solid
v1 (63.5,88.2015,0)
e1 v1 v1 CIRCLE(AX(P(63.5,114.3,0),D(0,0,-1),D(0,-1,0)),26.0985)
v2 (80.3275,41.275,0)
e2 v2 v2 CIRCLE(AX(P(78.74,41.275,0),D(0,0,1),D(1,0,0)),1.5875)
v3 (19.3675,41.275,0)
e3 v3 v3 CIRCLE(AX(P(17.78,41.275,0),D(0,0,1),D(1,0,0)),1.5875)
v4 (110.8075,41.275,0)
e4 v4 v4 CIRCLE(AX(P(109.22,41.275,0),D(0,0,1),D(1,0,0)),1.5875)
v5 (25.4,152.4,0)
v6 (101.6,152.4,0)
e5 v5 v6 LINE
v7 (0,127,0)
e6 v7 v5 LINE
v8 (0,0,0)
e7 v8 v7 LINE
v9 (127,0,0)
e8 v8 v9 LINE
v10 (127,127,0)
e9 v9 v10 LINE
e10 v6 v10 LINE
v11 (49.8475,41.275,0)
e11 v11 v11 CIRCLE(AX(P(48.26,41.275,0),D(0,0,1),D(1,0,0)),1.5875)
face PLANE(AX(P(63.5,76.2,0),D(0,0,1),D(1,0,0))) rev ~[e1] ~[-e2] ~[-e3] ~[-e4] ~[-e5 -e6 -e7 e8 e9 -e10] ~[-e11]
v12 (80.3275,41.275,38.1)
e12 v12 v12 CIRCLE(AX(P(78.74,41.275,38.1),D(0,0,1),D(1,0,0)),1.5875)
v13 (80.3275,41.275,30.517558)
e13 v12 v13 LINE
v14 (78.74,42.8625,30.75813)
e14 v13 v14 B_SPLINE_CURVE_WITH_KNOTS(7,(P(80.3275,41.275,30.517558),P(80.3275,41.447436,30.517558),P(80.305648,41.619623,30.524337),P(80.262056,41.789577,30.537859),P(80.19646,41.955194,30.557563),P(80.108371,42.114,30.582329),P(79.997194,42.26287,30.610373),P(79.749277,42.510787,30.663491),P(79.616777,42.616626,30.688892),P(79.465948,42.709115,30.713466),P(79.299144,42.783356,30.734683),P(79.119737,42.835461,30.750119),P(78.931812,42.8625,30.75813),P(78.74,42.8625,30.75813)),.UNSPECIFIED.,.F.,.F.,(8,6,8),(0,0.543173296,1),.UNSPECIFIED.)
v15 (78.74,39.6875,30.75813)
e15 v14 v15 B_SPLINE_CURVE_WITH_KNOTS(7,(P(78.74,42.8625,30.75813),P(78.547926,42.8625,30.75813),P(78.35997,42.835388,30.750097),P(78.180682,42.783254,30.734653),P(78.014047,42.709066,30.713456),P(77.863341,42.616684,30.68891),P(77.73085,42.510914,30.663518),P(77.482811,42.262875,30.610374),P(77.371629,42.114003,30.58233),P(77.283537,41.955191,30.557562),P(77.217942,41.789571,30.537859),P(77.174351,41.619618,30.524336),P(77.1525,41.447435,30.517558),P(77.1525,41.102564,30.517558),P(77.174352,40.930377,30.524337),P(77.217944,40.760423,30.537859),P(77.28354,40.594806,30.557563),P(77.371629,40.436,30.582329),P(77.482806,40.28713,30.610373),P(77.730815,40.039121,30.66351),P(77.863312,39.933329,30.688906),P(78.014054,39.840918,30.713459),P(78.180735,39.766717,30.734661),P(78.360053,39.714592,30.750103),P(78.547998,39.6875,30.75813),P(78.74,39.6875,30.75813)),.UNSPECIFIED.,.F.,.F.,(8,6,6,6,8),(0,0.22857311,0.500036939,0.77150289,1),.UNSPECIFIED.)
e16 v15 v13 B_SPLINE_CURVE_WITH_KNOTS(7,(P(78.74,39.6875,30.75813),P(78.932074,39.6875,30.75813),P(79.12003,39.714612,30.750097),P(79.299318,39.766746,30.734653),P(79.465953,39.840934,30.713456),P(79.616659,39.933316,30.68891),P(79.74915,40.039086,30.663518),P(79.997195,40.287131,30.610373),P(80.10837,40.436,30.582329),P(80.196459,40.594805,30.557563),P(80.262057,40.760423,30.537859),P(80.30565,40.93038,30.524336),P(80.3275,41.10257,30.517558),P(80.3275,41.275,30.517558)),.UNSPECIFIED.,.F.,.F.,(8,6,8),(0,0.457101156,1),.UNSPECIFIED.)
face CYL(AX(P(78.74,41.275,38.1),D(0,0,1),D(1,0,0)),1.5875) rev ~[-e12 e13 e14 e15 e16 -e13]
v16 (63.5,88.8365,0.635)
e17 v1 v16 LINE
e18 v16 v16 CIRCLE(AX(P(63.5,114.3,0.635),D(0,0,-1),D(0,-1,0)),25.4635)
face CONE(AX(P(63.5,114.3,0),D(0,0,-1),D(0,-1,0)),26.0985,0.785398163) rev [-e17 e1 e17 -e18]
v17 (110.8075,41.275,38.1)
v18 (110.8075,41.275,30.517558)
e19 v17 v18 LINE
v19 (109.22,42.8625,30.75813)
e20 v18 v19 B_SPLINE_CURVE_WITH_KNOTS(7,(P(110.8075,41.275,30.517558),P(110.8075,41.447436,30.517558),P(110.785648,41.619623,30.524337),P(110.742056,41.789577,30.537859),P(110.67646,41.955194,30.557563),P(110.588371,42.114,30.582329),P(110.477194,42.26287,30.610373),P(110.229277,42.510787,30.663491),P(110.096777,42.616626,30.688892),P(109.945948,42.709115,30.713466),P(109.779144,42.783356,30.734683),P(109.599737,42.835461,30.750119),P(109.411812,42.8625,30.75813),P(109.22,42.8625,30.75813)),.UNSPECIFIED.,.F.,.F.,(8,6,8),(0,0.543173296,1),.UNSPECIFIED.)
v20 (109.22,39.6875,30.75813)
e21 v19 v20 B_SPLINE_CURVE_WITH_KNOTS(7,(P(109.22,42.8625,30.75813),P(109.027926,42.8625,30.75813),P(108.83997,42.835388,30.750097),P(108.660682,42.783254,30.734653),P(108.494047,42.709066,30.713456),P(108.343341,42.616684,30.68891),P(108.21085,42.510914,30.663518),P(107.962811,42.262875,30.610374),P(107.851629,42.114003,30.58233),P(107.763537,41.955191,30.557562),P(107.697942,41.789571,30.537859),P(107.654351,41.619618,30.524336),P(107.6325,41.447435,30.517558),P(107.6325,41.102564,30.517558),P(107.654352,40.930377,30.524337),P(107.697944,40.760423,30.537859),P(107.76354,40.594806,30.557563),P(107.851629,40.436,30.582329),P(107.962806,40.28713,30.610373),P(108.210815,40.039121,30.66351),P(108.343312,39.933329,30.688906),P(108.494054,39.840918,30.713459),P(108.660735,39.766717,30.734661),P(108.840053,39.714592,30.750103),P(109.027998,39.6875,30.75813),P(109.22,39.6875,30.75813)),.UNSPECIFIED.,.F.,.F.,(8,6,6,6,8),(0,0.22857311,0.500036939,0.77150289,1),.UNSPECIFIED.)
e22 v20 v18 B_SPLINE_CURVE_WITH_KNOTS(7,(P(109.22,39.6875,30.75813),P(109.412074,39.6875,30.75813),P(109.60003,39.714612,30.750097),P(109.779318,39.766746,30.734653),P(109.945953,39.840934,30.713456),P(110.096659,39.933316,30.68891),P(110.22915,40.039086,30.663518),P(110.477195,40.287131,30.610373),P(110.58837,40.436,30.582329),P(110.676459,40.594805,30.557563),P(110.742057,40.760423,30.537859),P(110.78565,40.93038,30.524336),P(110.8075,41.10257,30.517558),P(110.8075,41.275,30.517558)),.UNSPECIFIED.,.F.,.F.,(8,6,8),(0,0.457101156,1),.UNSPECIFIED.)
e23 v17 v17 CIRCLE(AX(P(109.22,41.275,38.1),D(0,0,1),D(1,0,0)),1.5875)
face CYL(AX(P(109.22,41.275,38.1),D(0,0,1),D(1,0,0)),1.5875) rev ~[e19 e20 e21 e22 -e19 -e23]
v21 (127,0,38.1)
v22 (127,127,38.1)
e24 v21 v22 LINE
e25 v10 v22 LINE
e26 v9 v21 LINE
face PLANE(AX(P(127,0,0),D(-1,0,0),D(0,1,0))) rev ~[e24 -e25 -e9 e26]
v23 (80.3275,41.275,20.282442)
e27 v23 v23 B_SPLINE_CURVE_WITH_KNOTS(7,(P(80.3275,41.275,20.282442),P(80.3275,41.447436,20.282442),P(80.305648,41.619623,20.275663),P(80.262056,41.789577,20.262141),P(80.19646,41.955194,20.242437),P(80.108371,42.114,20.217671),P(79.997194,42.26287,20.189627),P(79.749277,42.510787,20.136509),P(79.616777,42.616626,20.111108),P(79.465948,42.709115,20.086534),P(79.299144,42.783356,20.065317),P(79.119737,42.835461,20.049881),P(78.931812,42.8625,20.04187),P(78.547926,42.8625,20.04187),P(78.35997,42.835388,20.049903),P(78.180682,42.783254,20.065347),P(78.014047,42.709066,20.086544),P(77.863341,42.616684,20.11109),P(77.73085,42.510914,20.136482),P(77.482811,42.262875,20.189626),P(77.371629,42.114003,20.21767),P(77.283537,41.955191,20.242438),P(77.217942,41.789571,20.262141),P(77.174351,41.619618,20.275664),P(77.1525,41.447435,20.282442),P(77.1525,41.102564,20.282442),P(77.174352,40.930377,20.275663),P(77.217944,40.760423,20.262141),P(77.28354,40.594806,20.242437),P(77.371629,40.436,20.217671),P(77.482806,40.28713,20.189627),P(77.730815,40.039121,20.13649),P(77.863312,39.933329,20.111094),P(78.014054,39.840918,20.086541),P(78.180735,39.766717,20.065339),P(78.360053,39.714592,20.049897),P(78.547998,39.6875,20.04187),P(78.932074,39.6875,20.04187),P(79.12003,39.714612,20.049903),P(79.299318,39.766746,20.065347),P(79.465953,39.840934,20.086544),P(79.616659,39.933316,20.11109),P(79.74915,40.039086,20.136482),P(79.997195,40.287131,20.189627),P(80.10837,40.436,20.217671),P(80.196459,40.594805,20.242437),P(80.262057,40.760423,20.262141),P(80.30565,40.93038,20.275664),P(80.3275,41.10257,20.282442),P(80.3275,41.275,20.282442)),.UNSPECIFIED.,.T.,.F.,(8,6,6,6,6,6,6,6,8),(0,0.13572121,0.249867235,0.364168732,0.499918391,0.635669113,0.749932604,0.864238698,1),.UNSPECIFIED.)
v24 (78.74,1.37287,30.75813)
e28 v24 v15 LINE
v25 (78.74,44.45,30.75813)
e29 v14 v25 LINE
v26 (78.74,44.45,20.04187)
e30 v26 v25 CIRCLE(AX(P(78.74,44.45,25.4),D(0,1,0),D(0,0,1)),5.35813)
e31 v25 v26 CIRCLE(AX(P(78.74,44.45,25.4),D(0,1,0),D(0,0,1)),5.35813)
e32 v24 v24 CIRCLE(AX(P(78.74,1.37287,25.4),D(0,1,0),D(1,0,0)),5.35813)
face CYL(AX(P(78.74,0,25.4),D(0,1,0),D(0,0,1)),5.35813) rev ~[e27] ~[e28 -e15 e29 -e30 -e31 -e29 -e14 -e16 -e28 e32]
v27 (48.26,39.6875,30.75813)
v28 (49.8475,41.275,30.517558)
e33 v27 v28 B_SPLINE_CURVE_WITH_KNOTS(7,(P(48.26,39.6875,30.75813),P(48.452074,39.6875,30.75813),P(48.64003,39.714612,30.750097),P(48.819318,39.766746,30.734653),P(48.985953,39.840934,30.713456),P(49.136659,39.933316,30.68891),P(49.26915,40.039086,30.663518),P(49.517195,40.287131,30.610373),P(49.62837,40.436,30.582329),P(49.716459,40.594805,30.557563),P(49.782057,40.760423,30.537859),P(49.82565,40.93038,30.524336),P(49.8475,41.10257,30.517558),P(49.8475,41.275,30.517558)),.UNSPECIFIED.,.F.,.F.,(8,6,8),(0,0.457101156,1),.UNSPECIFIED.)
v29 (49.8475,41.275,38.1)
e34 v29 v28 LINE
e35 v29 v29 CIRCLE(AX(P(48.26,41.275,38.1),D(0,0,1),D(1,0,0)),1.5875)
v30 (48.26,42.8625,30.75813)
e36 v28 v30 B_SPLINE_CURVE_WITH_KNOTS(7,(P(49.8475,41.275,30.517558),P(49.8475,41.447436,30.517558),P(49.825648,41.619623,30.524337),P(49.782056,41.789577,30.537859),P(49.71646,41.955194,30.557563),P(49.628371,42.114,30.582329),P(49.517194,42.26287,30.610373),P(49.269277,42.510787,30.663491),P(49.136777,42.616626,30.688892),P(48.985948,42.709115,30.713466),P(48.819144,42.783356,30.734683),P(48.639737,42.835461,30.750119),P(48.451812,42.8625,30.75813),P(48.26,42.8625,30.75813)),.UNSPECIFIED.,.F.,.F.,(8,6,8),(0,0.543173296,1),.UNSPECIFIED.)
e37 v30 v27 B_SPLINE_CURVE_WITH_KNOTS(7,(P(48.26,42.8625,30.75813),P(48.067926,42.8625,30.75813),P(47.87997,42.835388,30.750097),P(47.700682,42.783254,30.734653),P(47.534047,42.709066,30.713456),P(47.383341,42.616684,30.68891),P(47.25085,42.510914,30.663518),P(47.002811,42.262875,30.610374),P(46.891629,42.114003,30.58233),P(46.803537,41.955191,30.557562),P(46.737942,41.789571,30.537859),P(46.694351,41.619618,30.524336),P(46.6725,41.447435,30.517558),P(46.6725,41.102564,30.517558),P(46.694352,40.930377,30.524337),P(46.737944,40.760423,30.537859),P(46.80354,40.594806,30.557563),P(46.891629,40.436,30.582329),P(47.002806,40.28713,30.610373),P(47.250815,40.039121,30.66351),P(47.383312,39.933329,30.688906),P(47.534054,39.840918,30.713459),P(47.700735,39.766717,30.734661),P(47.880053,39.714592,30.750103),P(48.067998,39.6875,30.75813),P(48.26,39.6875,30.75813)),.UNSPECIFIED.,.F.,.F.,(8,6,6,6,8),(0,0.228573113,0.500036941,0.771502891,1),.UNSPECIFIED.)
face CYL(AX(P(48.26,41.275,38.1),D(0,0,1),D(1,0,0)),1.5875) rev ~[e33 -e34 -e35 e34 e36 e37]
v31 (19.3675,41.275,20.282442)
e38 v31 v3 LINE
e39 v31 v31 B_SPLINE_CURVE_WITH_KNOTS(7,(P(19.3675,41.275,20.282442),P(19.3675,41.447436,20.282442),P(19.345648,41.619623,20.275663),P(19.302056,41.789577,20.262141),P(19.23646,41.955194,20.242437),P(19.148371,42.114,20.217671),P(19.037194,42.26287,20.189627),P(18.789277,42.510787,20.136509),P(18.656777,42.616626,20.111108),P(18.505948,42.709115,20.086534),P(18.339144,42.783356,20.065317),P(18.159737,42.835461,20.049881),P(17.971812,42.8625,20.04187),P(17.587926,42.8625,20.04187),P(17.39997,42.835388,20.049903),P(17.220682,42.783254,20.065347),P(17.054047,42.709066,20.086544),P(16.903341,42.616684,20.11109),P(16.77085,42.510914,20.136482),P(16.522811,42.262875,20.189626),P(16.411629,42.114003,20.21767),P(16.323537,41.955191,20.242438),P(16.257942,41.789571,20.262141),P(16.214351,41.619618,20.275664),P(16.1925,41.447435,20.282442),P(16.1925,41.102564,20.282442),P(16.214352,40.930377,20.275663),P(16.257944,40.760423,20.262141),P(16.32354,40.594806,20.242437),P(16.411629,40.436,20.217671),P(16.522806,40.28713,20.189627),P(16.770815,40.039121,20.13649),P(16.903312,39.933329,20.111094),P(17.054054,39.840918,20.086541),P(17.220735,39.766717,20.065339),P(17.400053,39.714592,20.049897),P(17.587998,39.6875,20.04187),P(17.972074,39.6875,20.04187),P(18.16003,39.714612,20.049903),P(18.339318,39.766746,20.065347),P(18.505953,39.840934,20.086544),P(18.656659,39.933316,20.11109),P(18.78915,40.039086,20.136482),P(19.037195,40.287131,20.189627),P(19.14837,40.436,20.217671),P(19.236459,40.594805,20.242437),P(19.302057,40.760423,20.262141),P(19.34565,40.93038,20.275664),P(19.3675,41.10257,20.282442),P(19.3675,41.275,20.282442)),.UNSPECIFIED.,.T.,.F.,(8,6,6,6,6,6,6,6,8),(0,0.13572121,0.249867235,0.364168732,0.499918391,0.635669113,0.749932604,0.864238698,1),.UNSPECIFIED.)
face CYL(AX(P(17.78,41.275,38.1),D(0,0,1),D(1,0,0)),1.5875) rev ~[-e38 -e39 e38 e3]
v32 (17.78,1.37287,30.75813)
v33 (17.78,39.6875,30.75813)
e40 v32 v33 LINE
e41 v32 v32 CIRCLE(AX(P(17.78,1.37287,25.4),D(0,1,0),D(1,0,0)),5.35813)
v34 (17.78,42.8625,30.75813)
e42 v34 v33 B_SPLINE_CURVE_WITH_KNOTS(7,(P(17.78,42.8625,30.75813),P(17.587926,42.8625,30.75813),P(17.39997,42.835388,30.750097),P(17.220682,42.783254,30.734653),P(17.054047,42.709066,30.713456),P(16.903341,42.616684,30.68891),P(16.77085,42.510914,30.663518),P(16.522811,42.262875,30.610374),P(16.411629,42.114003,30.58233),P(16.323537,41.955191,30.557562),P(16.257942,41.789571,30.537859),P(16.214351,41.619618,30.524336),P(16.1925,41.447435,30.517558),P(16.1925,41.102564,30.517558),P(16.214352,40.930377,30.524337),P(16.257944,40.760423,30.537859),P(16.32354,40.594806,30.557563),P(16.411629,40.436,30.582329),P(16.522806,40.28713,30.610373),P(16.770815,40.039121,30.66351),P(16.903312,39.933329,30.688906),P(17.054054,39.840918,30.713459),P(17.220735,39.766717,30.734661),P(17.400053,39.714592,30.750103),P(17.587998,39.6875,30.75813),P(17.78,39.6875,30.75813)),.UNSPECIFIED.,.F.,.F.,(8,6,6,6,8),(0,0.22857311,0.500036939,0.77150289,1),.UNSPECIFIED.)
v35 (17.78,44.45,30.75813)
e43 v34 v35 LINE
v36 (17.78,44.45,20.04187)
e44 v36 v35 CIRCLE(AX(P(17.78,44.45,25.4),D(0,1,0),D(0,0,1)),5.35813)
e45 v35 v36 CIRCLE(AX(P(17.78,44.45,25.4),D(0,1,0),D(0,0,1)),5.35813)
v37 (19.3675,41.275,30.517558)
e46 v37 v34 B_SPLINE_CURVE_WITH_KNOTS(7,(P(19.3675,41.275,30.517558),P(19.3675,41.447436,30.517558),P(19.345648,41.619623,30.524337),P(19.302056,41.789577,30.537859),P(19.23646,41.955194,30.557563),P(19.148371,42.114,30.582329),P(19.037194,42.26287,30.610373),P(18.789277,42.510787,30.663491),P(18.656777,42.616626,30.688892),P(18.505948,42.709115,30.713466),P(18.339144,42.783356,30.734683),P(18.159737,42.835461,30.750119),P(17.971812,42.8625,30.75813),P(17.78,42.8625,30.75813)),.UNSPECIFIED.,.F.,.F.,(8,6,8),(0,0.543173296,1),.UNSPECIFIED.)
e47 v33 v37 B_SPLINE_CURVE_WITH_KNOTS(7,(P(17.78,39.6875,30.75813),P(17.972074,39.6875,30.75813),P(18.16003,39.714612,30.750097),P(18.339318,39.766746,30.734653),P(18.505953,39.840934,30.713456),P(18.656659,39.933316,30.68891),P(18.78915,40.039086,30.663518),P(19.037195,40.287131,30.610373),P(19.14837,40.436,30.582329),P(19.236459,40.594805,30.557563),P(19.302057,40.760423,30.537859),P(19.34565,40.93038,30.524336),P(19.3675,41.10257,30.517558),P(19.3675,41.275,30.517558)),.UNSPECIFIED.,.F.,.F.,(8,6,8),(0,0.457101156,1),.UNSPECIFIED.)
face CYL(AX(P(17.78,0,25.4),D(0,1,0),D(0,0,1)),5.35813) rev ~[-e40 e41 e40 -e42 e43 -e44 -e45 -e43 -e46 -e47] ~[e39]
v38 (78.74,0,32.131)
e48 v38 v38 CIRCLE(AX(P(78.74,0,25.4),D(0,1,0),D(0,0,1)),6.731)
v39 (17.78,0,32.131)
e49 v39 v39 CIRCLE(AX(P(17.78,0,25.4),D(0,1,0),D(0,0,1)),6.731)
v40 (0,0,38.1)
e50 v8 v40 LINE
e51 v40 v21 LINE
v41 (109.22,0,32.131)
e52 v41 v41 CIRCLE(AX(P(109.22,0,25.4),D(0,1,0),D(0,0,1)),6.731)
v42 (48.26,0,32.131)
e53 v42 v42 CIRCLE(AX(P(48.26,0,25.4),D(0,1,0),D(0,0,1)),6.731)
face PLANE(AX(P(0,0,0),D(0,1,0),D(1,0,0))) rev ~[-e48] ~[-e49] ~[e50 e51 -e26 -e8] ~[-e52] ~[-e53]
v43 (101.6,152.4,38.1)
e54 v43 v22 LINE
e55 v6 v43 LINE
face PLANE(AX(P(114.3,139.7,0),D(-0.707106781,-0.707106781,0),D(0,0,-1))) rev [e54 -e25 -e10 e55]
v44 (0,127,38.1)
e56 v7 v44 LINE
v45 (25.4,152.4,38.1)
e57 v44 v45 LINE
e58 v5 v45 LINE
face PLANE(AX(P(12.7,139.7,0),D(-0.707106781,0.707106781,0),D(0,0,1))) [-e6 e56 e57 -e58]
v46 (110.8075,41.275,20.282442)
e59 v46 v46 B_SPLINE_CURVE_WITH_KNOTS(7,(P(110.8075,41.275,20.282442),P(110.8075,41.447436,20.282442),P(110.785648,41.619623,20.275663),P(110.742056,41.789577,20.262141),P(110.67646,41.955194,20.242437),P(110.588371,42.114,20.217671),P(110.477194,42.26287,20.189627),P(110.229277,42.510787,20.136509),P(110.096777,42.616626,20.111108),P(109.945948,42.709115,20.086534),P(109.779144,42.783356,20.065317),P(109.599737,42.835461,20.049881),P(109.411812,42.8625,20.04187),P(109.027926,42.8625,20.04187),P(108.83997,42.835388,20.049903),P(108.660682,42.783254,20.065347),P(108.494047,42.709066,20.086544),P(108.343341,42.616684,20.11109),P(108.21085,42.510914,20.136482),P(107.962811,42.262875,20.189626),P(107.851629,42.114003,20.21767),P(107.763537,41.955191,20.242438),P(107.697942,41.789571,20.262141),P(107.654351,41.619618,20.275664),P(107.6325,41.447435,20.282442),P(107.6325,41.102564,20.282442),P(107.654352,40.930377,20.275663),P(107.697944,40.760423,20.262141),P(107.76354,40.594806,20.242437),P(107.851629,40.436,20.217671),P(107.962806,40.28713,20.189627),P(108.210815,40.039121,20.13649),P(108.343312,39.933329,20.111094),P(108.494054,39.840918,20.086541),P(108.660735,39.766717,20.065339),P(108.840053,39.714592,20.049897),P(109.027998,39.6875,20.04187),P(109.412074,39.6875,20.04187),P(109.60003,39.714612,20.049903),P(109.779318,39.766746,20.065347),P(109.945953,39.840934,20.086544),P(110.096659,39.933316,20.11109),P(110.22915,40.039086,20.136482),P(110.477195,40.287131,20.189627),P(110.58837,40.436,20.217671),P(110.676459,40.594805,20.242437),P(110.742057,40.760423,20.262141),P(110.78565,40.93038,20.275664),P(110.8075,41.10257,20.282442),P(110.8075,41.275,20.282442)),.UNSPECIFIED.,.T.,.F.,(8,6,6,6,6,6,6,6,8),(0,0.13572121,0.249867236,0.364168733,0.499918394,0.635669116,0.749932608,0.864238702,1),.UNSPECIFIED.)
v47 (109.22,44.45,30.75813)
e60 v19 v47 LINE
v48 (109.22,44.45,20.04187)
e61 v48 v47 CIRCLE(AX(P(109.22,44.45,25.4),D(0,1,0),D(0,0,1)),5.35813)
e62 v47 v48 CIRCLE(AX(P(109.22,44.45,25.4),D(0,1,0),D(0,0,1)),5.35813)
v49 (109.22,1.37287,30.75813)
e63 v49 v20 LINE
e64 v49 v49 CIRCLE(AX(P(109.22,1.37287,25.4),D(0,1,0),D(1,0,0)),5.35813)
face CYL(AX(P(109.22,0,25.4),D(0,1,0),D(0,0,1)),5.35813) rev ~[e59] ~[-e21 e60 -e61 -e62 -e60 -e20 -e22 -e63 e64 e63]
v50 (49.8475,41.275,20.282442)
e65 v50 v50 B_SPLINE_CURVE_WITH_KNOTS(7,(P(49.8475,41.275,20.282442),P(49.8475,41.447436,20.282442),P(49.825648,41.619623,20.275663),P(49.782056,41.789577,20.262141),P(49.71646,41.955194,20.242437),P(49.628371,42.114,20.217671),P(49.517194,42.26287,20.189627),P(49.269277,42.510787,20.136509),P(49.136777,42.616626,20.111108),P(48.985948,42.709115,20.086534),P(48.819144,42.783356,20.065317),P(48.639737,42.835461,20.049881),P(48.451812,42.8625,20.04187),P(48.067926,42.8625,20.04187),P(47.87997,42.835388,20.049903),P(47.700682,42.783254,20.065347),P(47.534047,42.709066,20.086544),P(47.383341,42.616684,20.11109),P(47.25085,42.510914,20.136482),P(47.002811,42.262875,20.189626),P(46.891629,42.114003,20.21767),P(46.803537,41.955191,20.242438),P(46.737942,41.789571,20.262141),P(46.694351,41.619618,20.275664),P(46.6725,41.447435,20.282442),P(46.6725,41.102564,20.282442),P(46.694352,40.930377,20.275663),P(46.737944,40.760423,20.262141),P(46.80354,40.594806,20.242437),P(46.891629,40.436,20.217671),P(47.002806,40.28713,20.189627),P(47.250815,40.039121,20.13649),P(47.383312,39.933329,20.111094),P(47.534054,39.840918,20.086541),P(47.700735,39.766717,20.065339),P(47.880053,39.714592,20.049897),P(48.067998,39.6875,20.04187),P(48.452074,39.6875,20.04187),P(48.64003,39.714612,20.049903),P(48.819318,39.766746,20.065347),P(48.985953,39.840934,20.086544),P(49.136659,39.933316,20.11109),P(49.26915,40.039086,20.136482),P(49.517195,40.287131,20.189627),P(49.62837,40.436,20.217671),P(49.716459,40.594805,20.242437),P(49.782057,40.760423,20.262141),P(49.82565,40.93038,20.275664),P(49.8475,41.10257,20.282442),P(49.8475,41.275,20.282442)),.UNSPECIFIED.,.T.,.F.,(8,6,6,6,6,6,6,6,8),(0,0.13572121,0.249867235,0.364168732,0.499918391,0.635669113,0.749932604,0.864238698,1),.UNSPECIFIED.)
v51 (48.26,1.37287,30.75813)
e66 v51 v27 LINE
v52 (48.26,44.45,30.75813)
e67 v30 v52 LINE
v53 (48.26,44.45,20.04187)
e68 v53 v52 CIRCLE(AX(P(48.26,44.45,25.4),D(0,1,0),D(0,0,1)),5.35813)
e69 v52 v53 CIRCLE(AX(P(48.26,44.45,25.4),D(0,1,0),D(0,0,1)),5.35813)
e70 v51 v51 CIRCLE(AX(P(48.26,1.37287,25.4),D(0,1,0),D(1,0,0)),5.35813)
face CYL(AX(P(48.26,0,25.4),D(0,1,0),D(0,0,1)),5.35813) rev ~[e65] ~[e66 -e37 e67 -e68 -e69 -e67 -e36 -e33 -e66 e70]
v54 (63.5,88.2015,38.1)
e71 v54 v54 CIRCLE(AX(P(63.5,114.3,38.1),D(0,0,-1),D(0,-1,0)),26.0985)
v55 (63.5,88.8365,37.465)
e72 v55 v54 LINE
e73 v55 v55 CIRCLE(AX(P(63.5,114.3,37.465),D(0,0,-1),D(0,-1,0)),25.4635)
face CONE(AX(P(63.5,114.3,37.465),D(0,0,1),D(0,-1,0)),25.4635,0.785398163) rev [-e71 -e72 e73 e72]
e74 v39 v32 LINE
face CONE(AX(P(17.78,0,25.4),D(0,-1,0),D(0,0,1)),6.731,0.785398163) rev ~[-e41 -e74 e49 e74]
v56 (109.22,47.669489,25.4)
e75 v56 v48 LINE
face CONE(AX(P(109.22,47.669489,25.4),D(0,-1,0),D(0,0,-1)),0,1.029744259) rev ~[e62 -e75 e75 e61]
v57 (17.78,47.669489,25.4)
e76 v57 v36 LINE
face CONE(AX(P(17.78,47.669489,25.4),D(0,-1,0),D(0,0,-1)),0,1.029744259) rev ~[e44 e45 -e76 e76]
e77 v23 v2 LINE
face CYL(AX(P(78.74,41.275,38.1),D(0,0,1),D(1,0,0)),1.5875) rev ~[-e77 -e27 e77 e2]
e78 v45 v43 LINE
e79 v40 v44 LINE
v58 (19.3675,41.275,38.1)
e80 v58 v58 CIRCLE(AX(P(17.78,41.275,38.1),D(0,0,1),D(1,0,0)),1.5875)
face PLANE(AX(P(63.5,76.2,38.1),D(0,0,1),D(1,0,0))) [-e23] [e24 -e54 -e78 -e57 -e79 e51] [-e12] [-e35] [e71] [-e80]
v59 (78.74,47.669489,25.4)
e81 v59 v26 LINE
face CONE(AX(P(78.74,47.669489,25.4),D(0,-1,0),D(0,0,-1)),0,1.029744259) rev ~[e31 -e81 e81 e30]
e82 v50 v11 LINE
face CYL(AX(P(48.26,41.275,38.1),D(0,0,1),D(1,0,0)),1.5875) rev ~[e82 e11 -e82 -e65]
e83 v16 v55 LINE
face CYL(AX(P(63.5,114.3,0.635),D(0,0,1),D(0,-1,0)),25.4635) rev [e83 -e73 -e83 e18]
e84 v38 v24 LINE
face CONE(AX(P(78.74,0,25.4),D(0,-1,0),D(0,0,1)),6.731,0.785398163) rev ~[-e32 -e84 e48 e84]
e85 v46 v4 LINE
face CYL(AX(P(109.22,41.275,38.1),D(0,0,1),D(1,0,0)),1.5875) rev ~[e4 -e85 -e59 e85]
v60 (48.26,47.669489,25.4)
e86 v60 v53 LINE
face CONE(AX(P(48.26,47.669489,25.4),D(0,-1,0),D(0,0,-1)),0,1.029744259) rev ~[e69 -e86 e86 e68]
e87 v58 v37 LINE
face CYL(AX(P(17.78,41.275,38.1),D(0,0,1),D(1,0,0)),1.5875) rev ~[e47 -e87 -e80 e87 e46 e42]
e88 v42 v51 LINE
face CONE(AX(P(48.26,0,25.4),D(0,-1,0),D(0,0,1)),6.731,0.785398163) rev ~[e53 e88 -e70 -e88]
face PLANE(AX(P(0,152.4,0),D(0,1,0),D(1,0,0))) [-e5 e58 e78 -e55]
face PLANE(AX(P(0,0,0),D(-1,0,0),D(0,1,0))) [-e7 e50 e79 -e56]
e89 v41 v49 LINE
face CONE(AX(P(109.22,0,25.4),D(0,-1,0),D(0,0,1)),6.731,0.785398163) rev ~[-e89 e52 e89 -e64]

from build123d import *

# Parameters (mm, degrees)
SKETCH1_W                         = 127
SKETCH1_H                         = 152.4
EXTRUDE1_DEPTH                    = 38.1
CHAMFER1_SIZE                     = 25.4
F_1_2_13_TAPPED_HOLE1_D           = 10.71626
F_1_2_13_TAPPED_HOLE1_DEPTH       = 44.45
F_1_2_13_TAPPED_HOLE1_CSINK_D     = 13.462
F_1_2_13_TAPPED_HOLE1_CSINK_ANGLE = 90
F_1_2_13_TAPPED_HOLE1_TIP         = 3.219489309
SKETCH4_R                         = 1.5875
CUT_EXTRUDE1_DEPTH                = 39.1


with BuildPart() as part:
    # Sketch1 → Extrude1 (new body)
    with BuildSketch(Plane.XY):
        with Locations((63.5, 76.2)):
            Rectangle(SKETCH1_W, SKETCH1_H)
    extrude(amount=EXTRUDE1_DEPTH)

    # Sketch5 → 1 (1) Diameter Hole1 (revolve, cut)
    with BuildSketch(Plane(origin=(63.5, 114.3, 38.1), x_dir=(0, -1, 0), z_dir=(1, 0, 0))):
        Polygon((0, 0), (0, 38.1), (26.0985, 38.1), (25.4635, 37.465), (25.4635, 0.635), (26.0985, 0), align=None)
    revolve(axis=Axis((63.5, 114.3, 44.45), (0, 0, -1)), mode=Mode.SUBTRACT)

    # Chamfer1
    chamfer1_edges = [part.edges().sort_by_distance(p)[0] for p in [
        (0, 152.4, 19.05),
        (127, 152.4, 19.05),
    ]]
    chamfer(chamfer1_edges, length=CHAMFER1_SIZE)

    # 1/2-13 Tapped Hole1
    with Locations(Plane(origin=(109.22, 0, 25.4), x_dir=(0, 0, -1), z_dir=(0, -1, 0))):
        with Locations((0, 0), (0, -30.48), (0, -60.96), (0, -91.44)):
            CounterSinkHole(F_1_2_13_TAPPED_HOLE1_D / 2, F_1_2_13_TAPPED_HOLE1_CSINK_D / 2, depth=F_1_2_13_TAPPED_HOLE1_DEPTH, counter_sink_angle=F_1_2_13_TAPPED_HOLE1_CSINK_ANGLE)
            with Locations((0, 0, -(F_1_2_13_TAPPED_HOLE1_DEPTH + F_1_2_13_TAPPED_HOLE1_TIP / 2))):  # 118° drill point
                Cone(0, F_1_2_13_TAPPED_HOLE1_D / 2, F_1_2_13_TAPPED_HOLE1_TIP, mode=Mode.SUBTRACT)

    # Sketch4 → Cut-Extrude1 (cut, through all)
    with BuildSketch(Plane.XY.offset(38.1)):
        with Locations((17.78, 41.275)):
            Circle(SKETCH4_R)
        with Locations((48.26, 41.275)):
            Circle(SKETCH4_R)
        with Locations((78.74, 41.275)):
            Circle(SKETCH4_R)
        with Locations((109.22, 41.275)):
            Circle(SKETCH4_R)
    extrude(amount=-CUT_EXTRUDE1_DEPTH, mode=Mode.SUBTRACT)


solid = part.part
